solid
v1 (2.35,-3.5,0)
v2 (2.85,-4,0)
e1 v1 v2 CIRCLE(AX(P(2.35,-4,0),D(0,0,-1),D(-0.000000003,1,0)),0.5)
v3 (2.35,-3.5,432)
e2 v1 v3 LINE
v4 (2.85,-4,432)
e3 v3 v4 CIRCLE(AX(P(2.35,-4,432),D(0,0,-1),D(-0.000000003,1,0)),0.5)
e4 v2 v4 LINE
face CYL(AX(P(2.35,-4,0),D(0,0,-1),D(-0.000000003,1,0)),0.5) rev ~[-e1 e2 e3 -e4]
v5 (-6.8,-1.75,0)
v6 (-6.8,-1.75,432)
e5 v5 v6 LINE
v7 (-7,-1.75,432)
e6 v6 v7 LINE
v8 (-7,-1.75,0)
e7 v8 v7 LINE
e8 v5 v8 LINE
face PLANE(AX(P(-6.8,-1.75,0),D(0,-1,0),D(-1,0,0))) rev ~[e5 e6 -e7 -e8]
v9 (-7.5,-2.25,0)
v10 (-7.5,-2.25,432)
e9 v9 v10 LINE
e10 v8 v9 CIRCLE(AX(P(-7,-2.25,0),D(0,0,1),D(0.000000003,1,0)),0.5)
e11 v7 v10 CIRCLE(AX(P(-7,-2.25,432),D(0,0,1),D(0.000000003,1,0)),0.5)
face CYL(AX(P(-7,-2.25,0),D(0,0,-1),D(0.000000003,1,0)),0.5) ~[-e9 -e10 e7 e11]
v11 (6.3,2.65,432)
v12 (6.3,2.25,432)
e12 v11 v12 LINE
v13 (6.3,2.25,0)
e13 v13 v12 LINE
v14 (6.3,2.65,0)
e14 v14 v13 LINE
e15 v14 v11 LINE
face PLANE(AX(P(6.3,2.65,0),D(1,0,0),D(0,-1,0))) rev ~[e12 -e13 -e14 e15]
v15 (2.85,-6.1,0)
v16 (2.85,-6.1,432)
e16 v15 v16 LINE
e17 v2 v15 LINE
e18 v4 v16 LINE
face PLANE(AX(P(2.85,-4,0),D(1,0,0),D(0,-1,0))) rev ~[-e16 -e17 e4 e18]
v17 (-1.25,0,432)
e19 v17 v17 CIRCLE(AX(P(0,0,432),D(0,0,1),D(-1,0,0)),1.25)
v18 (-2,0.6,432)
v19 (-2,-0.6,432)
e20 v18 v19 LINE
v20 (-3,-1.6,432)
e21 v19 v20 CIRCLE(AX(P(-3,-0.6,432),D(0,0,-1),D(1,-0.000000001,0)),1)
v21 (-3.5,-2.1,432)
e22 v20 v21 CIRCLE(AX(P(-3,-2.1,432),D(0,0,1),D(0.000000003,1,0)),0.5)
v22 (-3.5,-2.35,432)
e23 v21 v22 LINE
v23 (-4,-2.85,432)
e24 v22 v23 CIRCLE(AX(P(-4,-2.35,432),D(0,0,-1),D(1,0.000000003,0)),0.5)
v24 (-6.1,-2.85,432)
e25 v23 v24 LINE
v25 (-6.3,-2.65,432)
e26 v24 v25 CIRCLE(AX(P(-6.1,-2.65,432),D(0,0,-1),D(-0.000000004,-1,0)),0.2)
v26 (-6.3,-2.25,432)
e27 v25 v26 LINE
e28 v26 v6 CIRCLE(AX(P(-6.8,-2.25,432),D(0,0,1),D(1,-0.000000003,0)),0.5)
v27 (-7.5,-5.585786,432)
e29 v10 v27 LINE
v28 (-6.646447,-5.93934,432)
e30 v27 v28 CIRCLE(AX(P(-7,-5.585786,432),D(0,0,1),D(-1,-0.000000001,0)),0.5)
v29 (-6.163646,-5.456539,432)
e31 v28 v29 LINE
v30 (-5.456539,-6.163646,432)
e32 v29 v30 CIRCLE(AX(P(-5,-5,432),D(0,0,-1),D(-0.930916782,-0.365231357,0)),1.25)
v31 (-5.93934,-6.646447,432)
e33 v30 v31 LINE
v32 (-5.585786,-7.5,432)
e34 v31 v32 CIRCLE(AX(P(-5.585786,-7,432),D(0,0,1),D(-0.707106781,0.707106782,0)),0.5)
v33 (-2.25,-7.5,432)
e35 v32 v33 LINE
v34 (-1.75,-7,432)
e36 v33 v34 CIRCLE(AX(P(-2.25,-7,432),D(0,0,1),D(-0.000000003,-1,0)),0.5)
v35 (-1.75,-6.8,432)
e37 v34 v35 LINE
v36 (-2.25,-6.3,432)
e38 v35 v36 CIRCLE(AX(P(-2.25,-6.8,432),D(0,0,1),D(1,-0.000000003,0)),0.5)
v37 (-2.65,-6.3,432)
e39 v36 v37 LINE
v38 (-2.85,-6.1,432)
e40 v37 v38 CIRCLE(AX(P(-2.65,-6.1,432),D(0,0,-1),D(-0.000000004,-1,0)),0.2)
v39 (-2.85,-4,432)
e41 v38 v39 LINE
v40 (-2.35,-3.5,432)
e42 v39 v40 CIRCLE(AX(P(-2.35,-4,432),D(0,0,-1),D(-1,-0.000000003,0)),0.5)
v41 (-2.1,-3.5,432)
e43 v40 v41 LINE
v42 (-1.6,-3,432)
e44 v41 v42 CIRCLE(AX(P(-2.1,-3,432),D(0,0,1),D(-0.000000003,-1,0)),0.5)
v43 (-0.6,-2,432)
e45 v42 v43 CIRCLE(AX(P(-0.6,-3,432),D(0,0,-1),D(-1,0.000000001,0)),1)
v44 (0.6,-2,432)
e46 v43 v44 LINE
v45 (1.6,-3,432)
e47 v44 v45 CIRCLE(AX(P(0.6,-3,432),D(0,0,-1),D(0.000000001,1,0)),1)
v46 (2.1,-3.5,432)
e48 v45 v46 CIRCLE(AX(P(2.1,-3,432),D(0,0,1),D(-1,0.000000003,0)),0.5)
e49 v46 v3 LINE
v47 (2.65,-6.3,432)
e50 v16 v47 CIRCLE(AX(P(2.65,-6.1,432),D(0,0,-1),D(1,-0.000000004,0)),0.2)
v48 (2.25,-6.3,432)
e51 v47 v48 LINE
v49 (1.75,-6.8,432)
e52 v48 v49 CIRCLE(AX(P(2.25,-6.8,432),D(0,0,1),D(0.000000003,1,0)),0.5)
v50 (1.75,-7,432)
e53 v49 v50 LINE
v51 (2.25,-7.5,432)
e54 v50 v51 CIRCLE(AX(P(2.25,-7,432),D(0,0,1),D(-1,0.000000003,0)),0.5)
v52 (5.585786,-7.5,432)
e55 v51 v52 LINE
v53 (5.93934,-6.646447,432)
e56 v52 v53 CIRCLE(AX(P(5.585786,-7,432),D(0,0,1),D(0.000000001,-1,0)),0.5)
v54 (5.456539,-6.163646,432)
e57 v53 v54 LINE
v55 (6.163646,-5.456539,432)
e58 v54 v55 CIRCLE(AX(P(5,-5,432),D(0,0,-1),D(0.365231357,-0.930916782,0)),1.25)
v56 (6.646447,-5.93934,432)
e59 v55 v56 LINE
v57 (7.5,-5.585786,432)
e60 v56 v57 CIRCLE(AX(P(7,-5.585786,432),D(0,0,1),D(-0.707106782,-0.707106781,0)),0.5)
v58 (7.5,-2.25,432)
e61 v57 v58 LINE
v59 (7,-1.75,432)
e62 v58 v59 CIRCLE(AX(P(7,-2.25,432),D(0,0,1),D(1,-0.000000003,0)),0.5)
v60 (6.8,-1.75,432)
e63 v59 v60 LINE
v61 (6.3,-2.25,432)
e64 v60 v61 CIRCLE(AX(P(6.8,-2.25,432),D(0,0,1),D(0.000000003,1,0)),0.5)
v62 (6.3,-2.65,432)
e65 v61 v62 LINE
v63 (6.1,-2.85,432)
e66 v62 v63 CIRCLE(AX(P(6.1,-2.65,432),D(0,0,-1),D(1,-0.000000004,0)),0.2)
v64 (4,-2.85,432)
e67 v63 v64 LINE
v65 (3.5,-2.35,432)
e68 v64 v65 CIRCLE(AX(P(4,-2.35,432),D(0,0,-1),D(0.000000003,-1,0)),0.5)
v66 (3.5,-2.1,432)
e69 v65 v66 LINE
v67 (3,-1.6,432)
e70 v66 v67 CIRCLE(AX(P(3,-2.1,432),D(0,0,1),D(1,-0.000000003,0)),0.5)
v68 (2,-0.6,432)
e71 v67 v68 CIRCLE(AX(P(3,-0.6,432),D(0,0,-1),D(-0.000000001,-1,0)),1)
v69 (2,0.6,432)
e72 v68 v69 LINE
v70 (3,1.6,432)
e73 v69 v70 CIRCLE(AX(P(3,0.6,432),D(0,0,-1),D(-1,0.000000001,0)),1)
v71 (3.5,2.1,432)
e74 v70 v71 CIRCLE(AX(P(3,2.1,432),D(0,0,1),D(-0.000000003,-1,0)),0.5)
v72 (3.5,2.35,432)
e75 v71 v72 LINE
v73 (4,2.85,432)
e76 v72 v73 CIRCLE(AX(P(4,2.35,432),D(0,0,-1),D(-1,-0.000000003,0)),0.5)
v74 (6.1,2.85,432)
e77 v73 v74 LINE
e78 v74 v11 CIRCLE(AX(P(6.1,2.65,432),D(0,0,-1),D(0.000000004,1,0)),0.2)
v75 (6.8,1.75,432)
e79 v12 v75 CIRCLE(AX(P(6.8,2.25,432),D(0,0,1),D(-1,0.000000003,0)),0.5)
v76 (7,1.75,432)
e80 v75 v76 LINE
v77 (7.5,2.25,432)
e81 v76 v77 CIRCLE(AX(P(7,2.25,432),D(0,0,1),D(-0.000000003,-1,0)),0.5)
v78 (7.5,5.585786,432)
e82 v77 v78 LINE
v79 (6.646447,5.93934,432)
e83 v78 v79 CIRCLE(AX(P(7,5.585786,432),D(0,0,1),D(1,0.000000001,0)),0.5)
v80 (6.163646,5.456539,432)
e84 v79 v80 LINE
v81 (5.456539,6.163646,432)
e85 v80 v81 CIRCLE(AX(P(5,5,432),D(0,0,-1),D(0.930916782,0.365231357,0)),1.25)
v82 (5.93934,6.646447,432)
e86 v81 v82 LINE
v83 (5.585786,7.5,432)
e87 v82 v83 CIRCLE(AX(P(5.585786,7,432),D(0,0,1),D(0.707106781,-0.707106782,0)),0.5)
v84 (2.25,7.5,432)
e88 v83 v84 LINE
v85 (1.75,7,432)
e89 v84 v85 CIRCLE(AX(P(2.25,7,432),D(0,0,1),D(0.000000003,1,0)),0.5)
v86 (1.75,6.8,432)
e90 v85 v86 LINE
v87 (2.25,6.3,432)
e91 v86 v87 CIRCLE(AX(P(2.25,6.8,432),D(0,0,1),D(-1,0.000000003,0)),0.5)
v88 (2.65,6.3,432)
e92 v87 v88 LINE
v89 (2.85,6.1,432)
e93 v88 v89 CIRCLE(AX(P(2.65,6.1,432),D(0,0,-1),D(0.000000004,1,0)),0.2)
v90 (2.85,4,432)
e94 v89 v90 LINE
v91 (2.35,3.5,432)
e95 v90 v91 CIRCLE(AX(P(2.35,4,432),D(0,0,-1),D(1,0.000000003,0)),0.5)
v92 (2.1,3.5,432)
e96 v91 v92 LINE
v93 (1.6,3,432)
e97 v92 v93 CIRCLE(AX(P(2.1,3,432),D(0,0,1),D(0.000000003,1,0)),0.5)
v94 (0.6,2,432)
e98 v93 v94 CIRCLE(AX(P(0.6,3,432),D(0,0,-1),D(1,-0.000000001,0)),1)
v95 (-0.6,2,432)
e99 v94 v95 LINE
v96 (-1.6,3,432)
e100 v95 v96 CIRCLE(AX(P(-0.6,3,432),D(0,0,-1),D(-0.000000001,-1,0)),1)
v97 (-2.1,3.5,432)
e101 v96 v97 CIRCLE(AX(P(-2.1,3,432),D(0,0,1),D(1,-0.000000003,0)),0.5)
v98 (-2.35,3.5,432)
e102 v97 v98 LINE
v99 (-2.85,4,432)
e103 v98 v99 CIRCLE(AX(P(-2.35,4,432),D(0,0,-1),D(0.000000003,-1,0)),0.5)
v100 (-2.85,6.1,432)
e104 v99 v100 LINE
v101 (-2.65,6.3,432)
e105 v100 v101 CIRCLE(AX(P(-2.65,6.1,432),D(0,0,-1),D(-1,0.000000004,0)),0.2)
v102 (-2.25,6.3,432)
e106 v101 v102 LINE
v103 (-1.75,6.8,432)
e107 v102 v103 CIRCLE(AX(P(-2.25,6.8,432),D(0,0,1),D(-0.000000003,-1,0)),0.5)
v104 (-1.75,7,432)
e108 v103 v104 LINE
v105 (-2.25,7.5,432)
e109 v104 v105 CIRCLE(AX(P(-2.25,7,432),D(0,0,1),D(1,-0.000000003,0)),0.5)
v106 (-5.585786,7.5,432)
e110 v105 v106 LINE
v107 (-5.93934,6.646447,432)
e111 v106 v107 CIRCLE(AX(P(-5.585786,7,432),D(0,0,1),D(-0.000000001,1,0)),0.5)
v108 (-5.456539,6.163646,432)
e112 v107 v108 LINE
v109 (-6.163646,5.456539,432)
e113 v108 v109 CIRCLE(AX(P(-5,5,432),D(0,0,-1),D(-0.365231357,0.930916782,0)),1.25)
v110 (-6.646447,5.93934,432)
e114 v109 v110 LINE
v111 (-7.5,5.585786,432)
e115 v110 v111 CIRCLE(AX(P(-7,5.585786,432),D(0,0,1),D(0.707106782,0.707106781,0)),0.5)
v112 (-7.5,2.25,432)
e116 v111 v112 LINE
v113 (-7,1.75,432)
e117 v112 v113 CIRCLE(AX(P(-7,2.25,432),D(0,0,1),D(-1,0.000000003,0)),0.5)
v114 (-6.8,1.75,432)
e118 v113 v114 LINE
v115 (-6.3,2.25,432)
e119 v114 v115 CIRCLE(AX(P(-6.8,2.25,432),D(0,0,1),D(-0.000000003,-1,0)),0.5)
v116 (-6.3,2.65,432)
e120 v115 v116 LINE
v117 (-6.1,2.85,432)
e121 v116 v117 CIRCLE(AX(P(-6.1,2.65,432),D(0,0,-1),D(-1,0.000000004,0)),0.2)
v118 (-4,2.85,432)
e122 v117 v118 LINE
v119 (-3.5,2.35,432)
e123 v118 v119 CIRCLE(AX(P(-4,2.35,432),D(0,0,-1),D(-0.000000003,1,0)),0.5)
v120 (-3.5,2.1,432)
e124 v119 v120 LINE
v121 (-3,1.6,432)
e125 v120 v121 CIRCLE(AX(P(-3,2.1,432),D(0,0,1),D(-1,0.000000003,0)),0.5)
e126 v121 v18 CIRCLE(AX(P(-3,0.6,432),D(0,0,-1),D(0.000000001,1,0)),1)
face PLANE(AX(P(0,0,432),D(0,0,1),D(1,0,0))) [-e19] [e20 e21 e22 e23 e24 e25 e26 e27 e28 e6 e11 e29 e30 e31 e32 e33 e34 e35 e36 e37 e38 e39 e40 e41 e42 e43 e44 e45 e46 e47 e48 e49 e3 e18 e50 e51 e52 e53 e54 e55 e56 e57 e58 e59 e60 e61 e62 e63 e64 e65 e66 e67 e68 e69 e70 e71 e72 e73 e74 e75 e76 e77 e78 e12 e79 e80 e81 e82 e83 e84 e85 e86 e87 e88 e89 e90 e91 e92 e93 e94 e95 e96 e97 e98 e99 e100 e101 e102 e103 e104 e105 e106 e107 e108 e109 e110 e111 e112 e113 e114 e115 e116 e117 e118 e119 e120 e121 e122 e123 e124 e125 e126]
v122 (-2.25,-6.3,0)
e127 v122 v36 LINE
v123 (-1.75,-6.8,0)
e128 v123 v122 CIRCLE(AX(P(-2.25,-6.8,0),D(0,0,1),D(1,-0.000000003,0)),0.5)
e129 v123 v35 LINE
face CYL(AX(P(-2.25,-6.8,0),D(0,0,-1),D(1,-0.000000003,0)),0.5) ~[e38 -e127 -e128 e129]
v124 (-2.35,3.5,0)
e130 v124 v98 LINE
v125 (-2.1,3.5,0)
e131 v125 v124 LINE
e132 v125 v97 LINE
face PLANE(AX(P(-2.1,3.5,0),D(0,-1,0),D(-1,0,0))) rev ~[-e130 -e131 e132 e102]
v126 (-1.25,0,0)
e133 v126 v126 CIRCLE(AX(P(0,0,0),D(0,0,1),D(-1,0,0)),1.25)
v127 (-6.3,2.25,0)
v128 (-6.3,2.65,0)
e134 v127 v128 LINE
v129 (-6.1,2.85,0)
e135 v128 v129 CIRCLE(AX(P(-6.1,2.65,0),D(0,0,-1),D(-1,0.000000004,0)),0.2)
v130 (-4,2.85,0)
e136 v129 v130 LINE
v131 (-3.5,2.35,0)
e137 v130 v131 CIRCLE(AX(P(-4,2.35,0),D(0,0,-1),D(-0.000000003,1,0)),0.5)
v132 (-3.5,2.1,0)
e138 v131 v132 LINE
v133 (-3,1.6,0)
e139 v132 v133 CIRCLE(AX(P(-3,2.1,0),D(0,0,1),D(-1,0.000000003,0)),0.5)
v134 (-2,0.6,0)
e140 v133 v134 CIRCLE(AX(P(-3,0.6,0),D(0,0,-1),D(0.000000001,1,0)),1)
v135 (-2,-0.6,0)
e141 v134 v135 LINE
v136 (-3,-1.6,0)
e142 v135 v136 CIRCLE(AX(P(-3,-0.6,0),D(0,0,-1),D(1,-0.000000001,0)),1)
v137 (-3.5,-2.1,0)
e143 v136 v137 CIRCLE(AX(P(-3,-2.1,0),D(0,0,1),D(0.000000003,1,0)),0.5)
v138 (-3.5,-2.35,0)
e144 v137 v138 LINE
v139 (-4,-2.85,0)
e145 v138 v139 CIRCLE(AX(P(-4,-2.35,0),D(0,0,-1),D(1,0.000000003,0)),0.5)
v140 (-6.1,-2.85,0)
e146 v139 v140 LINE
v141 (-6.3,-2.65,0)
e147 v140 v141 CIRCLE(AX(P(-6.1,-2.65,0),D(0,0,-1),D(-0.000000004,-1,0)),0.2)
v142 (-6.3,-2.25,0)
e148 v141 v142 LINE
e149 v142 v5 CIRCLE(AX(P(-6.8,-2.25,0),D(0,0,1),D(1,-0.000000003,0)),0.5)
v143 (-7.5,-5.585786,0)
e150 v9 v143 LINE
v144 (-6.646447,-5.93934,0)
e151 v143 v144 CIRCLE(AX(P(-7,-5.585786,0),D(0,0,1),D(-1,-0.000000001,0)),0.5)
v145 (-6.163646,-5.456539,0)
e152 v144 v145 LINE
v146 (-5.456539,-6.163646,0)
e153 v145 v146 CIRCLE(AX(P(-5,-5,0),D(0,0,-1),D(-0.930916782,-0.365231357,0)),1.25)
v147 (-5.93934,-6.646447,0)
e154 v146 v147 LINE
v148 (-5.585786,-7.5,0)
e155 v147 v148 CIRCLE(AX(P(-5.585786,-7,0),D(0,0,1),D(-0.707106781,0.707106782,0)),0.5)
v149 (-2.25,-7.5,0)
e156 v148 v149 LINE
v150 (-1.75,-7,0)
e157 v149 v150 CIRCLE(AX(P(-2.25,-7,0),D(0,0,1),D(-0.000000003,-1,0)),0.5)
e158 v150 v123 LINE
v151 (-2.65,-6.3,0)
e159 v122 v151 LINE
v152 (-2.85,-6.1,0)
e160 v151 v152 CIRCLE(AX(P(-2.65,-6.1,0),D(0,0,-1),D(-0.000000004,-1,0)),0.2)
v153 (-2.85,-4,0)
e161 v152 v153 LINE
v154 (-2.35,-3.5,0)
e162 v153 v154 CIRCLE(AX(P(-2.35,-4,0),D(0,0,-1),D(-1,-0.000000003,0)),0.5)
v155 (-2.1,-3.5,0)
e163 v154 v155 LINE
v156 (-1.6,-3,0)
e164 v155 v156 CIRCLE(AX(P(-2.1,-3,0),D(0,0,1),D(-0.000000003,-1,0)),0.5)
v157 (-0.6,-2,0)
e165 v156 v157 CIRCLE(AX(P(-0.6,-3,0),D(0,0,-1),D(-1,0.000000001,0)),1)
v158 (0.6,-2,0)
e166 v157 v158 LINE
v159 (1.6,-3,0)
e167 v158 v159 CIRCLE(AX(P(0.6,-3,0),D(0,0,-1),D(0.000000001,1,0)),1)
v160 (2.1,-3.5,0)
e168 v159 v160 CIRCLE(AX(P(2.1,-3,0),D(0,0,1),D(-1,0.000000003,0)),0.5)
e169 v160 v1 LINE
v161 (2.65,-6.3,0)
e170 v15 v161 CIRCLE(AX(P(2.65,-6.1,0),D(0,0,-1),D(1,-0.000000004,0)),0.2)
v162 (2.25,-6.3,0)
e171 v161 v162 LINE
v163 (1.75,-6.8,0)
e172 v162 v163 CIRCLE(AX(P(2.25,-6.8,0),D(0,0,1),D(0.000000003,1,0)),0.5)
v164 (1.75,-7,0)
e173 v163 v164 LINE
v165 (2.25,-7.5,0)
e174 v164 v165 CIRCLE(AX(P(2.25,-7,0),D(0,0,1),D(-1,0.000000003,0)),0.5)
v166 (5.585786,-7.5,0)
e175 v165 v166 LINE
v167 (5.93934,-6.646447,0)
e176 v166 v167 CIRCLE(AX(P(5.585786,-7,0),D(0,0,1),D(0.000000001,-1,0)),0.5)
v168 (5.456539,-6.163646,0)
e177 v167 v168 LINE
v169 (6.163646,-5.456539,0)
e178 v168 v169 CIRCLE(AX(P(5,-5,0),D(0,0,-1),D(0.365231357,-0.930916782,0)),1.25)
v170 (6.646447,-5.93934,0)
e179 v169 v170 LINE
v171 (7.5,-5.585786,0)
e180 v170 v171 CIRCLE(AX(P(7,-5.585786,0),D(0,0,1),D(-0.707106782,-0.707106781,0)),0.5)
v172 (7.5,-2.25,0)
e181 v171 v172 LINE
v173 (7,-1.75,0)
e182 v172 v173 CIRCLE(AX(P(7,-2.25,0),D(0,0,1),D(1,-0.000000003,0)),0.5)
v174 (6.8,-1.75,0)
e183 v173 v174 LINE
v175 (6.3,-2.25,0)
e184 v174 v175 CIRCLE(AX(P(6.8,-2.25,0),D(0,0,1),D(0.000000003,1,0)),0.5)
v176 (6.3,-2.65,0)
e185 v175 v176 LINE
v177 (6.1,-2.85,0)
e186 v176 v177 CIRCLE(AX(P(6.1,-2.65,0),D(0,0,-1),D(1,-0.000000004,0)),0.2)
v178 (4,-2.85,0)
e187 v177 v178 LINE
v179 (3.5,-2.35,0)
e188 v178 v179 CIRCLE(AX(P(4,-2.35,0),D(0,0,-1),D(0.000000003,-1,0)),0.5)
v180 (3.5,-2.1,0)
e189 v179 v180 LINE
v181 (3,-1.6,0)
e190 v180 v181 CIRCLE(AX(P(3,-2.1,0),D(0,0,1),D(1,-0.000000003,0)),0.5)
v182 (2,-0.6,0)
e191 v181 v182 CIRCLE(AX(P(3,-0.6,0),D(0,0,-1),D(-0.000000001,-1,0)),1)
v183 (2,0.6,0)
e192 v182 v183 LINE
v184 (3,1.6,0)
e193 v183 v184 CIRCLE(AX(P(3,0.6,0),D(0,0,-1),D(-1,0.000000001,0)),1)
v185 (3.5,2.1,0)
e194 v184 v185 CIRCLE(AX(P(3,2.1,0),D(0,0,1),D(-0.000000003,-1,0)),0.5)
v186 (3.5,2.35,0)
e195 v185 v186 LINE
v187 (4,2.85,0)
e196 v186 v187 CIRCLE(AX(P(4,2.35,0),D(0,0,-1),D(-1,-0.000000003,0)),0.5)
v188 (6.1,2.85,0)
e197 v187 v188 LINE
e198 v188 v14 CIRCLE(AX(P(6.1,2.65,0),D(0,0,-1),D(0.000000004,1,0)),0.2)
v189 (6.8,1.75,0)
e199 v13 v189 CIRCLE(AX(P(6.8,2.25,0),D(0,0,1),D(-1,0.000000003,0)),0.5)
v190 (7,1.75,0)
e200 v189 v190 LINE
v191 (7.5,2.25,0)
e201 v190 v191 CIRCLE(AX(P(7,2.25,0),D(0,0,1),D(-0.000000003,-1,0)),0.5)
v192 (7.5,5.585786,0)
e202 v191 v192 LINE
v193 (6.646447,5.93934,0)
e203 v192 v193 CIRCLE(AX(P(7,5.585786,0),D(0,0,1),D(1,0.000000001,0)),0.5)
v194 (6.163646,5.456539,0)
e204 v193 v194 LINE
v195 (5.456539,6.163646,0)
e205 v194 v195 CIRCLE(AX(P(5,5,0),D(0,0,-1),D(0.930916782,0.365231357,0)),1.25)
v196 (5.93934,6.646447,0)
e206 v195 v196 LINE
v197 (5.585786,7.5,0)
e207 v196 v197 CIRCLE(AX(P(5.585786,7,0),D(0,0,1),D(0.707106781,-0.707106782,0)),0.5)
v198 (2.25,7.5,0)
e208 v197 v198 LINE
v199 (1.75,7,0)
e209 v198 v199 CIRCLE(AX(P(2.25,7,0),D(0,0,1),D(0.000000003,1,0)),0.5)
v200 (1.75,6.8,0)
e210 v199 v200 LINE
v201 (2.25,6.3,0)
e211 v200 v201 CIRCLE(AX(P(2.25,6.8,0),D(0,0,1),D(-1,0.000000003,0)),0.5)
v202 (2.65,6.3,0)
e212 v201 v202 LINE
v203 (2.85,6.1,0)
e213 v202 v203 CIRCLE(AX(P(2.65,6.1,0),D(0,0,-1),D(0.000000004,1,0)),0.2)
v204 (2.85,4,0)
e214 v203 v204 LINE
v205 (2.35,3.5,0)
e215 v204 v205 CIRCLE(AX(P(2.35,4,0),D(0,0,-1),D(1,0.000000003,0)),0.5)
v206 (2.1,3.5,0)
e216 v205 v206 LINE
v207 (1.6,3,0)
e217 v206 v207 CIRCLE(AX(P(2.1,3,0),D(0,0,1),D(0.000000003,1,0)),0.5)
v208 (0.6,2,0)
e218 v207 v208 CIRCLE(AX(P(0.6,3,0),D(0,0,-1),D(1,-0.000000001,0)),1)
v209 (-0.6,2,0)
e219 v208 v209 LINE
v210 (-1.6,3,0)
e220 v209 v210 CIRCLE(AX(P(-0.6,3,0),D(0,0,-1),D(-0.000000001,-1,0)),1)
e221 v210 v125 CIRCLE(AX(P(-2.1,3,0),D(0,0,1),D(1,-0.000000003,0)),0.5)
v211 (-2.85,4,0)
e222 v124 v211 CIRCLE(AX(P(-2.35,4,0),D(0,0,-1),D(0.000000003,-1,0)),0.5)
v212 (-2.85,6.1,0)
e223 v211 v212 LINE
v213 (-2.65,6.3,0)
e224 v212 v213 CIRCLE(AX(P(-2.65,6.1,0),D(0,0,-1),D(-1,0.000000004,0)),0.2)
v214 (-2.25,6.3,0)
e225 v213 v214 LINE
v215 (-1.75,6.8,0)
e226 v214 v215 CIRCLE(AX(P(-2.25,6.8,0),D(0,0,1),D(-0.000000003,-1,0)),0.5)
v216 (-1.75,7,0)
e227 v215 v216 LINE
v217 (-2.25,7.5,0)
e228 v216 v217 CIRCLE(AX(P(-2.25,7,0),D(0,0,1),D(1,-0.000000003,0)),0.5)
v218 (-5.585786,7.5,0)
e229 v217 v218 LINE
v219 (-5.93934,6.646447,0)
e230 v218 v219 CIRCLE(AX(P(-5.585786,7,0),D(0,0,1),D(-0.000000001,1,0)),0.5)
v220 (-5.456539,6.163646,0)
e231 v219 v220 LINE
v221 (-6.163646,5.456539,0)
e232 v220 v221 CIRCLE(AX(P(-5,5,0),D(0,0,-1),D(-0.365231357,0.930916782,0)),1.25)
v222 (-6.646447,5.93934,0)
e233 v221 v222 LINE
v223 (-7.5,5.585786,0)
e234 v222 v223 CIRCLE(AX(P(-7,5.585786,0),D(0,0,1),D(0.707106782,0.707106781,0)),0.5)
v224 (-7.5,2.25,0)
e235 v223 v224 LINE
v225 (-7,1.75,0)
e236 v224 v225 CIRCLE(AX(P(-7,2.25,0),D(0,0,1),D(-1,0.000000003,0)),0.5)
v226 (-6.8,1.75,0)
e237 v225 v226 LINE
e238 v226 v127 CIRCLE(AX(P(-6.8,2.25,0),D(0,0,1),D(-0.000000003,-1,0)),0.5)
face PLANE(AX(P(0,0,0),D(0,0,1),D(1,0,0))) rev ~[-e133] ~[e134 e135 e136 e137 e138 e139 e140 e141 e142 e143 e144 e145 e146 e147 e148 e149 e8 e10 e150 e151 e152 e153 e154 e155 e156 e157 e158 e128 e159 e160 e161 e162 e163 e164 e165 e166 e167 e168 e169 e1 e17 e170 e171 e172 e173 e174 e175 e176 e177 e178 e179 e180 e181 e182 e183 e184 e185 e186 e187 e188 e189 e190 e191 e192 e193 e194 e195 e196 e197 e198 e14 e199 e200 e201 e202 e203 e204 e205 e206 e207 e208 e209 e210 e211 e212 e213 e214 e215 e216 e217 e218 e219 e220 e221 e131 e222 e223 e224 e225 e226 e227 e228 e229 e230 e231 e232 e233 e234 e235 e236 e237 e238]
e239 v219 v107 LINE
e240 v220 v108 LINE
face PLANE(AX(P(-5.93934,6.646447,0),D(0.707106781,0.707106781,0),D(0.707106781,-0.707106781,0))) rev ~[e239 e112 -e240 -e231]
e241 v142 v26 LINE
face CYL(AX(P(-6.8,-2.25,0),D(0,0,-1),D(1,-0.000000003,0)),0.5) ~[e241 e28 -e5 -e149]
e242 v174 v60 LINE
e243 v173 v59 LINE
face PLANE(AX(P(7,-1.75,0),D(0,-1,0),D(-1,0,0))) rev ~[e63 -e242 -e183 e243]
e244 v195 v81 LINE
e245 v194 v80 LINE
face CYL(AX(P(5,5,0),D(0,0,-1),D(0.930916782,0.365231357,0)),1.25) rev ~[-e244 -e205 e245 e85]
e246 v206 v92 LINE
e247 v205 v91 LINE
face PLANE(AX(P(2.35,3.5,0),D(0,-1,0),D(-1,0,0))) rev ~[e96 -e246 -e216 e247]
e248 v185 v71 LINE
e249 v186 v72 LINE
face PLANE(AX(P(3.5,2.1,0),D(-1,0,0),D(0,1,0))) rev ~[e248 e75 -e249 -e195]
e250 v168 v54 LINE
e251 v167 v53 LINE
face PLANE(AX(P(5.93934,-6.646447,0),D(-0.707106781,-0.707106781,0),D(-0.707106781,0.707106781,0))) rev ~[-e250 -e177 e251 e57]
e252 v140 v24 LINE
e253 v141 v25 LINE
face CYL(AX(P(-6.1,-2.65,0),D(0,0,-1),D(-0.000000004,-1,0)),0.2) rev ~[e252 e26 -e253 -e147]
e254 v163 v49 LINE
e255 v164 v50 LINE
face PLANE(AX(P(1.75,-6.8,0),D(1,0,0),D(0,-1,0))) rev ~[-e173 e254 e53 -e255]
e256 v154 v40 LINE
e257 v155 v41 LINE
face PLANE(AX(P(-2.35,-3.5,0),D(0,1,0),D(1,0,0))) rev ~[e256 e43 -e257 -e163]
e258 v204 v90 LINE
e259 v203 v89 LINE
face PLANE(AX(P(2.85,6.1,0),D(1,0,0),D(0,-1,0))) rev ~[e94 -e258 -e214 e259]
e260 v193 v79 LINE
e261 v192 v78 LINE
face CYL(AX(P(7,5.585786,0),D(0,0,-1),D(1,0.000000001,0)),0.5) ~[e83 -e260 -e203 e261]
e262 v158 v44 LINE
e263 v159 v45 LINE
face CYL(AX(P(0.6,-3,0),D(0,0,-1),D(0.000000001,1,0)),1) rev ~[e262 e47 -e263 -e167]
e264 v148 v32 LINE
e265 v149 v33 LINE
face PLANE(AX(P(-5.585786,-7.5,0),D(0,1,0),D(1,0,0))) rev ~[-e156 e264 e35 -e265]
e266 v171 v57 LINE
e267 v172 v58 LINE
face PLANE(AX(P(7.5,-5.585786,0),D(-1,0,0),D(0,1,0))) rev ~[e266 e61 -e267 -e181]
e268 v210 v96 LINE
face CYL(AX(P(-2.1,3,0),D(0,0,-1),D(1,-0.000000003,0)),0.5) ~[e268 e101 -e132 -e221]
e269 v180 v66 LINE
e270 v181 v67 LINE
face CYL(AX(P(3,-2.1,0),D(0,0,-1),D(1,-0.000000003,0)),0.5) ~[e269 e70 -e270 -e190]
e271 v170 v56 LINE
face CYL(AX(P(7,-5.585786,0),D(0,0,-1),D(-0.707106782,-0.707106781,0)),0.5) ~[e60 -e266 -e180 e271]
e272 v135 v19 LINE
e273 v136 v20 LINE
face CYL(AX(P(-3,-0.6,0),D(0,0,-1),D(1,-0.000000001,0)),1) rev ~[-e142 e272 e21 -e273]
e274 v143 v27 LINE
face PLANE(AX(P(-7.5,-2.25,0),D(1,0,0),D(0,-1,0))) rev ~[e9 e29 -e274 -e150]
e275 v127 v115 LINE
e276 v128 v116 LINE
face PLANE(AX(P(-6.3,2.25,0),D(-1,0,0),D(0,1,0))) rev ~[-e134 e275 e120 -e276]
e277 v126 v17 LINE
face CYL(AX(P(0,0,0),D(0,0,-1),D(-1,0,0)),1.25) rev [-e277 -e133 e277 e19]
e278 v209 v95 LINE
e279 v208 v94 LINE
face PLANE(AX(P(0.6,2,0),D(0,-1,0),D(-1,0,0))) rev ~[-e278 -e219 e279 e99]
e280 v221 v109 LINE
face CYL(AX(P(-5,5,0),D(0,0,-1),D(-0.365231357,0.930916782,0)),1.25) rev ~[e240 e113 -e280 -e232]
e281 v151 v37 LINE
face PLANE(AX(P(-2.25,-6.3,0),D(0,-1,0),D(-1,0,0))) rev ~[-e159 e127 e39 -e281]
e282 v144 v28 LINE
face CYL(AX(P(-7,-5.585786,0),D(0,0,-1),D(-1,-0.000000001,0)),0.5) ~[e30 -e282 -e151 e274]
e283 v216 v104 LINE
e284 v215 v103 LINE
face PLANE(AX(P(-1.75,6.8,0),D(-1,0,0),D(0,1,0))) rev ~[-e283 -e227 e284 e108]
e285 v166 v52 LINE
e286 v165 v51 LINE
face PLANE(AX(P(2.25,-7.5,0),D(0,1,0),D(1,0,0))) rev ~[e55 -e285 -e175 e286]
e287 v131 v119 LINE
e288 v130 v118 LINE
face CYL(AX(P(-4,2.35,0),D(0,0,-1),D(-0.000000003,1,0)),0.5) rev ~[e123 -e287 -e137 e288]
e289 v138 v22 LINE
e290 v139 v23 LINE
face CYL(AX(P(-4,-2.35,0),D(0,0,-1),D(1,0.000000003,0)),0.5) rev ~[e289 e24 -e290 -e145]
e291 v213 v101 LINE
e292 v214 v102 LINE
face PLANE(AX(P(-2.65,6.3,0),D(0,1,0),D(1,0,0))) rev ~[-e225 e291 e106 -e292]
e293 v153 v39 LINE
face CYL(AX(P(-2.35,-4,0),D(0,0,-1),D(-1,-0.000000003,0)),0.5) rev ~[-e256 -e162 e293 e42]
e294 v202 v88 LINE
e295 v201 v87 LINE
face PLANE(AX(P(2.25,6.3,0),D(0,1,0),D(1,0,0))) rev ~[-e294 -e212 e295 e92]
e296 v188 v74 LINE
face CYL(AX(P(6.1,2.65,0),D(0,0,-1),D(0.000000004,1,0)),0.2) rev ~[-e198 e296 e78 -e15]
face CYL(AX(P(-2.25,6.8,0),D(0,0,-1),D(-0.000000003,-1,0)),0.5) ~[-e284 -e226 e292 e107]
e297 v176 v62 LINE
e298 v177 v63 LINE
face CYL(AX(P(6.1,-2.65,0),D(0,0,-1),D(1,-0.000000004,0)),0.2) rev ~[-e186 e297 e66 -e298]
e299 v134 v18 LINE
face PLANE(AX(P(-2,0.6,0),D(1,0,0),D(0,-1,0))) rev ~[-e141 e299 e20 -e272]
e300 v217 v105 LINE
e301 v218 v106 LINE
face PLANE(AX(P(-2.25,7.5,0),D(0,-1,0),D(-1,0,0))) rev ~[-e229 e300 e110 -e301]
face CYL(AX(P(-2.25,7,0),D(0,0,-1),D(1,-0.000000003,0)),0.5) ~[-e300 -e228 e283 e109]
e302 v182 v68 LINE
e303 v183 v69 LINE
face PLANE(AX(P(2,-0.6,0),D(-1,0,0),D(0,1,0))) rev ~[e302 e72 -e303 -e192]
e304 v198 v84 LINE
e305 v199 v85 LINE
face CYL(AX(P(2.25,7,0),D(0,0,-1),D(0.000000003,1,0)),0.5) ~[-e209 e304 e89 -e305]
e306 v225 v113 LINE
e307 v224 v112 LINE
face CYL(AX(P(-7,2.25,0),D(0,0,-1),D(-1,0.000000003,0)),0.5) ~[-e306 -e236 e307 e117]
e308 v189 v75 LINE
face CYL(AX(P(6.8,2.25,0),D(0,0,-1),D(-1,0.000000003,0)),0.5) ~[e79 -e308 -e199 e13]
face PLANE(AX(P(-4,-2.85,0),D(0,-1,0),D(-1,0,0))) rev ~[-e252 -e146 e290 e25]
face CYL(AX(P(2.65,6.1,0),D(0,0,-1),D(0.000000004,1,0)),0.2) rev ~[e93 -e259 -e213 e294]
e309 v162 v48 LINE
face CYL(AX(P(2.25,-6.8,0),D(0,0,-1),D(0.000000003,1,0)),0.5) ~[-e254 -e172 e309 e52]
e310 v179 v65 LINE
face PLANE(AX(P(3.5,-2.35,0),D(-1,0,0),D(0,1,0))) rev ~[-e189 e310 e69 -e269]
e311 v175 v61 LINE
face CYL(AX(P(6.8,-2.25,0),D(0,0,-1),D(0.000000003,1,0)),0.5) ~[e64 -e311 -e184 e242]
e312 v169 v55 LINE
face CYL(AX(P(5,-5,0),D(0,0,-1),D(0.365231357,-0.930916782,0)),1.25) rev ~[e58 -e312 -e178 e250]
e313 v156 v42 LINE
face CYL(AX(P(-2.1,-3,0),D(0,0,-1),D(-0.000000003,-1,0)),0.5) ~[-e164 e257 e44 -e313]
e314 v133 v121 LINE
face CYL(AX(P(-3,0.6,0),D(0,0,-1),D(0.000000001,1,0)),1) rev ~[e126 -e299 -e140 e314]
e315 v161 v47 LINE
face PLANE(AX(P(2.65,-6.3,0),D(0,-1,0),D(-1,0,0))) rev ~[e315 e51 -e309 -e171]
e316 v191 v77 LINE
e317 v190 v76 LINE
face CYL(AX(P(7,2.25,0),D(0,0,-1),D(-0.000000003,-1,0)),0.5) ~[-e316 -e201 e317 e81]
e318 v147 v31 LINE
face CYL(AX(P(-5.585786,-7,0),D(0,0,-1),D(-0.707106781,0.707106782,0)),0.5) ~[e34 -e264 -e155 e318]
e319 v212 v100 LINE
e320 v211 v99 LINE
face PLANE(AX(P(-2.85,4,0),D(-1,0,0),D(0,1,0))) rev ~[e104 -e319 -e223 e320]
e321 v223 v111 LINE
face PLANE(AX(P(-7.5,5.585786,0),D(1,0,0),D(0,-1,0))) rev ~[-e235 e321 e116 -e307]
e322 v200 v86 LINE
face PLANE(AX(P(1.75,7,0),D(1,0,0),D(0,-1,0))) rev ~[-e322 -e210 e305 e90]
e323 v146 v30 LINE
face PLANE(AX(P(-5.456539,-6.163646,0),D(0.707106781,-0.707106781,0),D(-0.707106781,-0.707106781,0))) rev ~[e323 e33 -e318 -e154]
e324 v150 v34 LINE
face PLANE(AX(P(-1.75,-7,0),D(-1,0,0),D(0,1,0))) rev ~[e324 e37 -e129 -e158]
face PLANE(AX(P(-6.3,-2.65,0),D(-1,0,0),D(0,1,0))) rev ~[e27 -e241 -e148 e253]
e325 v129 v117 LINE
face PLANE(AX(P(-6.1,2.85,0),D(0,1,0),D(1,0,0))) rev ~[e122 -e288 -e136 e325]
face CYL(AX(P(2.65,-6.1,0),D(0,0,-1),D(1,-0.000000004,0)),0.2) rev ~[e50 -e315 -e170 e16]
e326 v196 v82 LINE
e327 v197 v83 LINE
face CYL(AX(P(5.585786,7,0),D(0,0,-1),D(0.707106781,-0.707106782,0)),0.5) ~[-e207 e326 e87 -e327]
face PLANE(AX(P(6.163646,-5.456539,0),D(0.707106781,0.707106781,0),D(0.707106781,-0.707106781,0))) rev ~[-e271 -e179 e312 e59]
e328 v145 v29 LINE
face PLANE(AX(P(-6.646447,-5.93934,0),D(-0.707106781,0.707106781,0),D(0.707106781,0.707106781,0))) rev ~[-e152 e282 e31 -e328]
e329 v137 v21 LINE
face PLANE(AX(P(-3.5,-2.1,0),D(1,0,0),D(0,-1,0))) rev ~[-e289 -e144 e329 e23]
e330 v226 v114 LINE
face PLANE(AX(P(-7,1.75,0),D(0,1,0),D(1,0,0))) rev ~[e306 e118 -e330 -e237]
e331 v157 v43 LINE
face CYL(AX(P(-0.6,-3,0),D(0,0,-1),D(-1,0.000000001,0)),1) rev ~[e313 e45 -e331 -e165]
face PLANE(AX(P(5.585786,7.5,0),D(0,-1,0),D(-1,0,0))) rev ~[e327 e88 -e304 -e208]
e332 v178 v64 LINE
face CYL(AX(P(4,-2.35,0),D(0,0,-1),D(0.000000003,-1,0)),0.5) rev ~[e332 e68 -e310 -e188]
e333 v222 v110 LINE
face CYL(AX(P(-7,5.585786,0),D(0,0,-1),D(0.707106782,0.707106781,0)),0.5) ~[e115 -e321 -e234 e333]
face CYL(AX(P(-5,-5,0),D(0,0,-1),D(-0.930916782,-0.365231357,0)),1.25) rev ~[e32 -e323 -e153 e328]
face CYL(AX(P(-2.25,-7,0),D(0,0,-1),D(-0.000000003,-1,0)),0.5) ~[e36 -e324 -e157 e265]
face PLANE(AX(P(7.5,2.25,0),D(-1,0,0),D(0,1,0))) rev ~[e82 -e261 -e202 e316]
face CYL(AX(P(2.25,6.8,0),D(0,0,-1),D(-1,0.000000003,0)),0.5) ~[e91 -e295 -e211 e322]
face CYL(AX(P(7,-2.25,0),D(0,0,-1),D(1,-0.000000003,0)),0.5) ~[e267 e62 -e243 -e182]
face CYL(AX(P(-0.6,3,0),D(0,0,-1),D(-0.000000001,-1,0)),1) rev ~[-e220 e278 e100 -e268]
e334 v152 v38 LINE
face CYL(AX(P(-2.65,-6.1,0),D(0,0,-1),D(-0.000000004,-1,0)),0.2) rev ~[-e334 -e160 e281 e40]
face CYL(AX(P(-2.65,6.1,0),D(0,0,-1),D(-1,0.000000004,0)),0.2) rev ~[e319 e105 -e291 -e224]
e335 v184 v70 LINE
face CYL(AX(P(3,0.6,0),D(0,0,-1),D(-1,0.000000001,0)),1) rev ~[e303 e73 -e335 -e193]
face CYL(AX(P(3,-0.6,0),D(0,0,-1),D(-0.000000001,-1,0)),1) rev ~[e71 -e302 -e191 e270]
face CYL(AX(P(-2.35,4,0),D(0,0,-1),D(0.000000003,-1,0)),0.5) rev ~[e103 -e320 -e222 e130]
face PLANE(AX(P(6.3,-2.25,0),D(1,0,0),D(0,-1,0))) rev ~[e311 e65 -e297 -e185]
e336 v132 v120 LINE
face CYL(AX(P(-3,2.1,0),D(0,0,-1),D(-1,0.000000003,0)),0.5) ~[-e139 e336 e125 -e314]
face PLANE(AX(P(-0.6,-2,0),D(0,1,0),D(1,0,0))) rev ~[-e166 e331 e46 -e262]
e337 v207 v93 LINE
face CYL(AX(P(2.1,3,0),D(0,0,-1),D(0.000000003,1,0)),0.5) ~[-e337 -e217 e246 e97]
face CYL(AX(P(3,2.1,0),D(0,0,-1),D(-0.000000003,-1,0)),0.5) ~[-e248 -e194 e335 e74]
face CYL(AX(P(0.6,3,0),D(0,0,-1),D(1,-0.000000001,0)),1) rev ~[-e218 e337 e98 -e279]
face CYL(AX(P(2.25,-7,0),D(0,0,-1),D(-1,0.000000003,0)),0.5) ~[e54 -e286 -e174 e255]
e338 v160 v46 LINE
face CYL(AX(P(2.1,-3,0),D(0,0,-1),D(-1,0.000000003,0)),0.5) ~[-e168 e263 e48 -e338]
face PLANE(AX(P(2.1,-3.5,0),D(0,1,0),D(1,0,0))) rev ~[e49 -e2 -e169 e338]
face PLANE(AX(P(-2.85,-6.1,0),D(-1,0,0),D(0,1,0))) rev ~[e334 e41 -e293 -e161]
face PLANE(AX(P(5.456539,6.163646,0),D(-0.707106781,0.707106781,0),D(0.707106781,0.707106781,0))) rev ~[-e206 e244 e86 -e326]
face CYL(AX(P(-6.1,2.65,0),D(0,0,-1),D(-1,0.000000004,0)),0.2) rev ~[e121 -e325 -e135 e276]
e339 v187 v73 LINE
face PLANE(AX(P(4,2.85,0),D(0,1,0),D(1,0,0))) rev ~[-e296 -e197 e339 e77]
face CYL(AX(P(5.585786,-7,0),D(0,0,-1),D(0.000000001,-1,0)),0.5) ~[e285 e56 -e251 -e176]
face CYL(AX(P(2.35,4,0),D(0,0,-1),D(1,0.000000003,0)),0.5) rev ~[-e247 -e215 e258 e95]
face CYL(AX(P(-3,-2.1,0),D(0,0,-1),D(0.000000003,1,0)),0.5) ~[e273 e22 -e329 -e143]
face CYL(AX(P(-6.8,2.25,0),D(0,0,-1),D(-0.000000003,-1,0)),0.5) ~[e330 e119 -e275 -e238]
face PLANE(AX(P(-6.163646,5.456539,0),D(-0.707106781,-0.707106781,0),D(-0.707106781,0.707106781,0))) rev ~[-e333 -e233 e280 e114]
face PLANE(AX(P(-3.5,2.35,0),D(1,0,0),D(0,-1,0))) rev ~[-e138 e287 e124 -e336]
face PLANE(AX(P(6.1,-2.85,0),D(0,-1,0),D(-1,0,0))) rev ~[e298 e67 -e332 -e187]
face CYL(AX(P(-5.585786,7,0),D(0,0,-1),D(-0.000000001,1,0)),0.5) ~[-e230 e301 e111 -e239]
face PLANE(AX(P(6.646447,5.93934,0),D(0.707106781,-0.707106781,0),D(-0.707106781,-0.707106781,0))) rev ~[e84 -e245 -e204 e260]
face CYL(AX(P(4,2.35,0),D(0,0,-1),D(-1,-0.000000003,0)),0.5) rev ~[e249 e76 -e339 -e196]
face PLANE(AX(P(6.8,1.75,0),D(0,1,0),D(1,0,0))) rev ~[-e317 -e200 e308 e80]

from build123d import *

# Parameters (mm, degrees)
SKETCH1_R           = 1.25
BOSS_EXTRUDE1_DEPTH = 432


with BuildPart() as part:
    # Sketch1 → Boss-Extrude1 (new body)
    with BuildSketch(Plane.XY):
        with BuildLine():
            Line((6.646446609, 5.939339828), (6.163645978, 5.456539197))
            ThreePointArc((6.163645978, 5.456539197), (4.116116524, 4.116116524), (5.456539197, 6.163645978))
            Line((5.456539197, 6.163645978), (5.939339828, 6.646446609))
            ThreePointArc((5.939339828, 6.646446609), (6.047726204, 7.191341716), (5.585786438, 7.5))
            Line((5.585786438, 7.5), (2.25, 7.5))
            ThreePointArc((2.25, 7.5), (1.896446609, 7.353553391), (1.75, 7))
            Line((1.75, 7), (1.75, 6.8))
            ThreePointArc((1.75, 6.8), (1.896446609, 6.446446609), (2.25, 6.3))
            Line((2.25, 6.3), (2.65, 6.3))
            ThreePointArc((2.65, 6.3), (2.791421356, 6.241421356), (2.85, 6.1))
            Line((2.85, 6.1), (2.85, 4))
            ThreePointArc((2.85, 4), (2.703553391, 3.646446609), (2.35, 3.5))
            Line((2.35, 3.5), (2.1, 3.5))
            ThreePointArc((2.1, 3.5), (1.746446609, 3.353553391), (1.6, 3))
            ThreePointArc((1.6, 3), (1.307106781, 2.292893219), (0.6, 2))
            Line((0.6, 2), (-0.6, 2))
            ThreePointArc((-0.6, 2), (-1.307106781, 2.292893219), (-1.6, 3))
            ThreePointArc((-1.6, 3), (-1.746446609, 3.353553391), (-2.1, 3.5))
            Line((-2.1, 3.5), (-2.35, 3.5))
            ThreePointArc((-2.35, 3.5), (-2.703553391, 3.646446609), (-2.85, 4))
            Line((-2.85, 4), (-2.85, 6.1))
            ThreePointArc((-2.85, 6.1), (-2.791421356, 6.241421356), (-2.65, 6.3))
            Line((-2.65, 6.3), (-2.25, 6.3))
            ThreePointArc((-2.25, 6.3), (-1.896446609, 6.446446609), (-1.75, 6.8))
            Line((-1.75, 6.8), (-1.75, 7))
            ThreePointArc((-1.75, 7), (-1.896446609, 7.353553391), (-2.25, 7.5))
            Line((-2.25, 7.5), (-5.585786438, 7.5))
            ThreePointArc((-5.585786438, 7.5), (-6.047726204, 7.191341716), (-5.939339828, 6.646446609))
            Line((-5.939339828, 6.646446609), (-5.456539197, 6.163645978))
            ThreePointArc((-5.456539197, 6.163645978), (-4.116116524, 4.116116524), (-6.163645978, 5.456539197))
            Line((-6.163645978, 5.456539197), (-6.646446609, 5.939339828))
            ThreePointArc((-6.646446609, 5.939339828), (-7.191341716, 6.047726204), (-7.5, 5.585786438))
            Line((-7.5, 5.585786438), (-7.5, 2.25))
            ThreePointArc((-7.5, 2.25), (-7.353553391, 1.896446609), (-7, 1.75))
            Line((-7, 1.75), (-6.8, 1.75))
            ThreePointArc((-6.8, 1.75), (-6.446446609, 1.896446609), (-6.3, 2.25))
            Line((-6.3, 2.25), (-6.3, 2.65))
            ThreePointArc((-6.3, 2.65), (-6.241421356, 2.791421356), (-6.1, 2.85))
            Line((-6.1, 2.85), (-4, 2.85))
            ThreePointArc((-4, 2.85), (-3.646446609, 2.703553391), (-3.5, 2.35))
            Line((-3.5, 2.35), (-3.5, 2.1))
            ThreePointArc((-3.5, 2.1), (-3.353553391, 1.746446609), (-3, 1.6))
            ThreePointArc((-3, 1.6), (-2.292893219, 1.307106781), (-2, 0.6))
            Line((-2, 0.6), (-2, -0.6))
            ThreePointArc((-2, -0.6), (-2.292893219, -1.307106781), (-3, -1.6))
            ThreePointArc((-3, -1.6), (-3.353553391, -1.746446609), (-3.5, -2.1))
            Line((-3.5, -2.1), (-3.5, -2.35))
            ThreePointArc((-3.5, -2.35), (-3.646446609, -2.703553391), (-4, -2.85))
            Line((-4, -2.85), (-6.1, -2.85))
            ThreePointArc((-6.1, -2.85), (-6.241421356, -2.791421356), (-6.3, -2.65))
            Line((-6.3, -2.65), (-6.3, -2.25))
            ThreePointArc((-6.3, -2.25), (-6.446446609, -1.896446609), (-6.8, -1.75))
            Line((-6.8, -1.75), (-7, -1.75))
            ThreePointArc((-7, -1.75), (-7.353553391, -1.896446609), (-7.5, -2.25))
            Line((-7.5, -2.25), (-7.5, -5.585786438))
            ThreePointArc((-7.5, -5.585786438), (-7.191341716, -6.047726204), (-6.646446609, -5.939339828))
            Line((-6.646446609, -5.939339828), (-6.163645978, -5.456539197))
            ThreePointArc((-6.163645978, -5.456539197), (-4.116116524, -4.116116524), (-5.456539197, -6.163645978))
            Line((-5.456539197, -6.163645978), (-5.939339828, -6.646446609))
            ThreePointArc((-5.939339828, -6.646446609), (-6.047726204, -7.191341716), (-5.585786438, -7.5))
            Line((-5.585786438, -7.5), (-2.25, -7.5))
            ThreePointArc((-2.25, -7.5), (-1.896446609, -7.353553391), (-1.75, -7))
            Line((-1.75, -7), (-1.75, -6.8))
            ThreePointArc((-1.75, -6.8), (-1.896446609, -6.446446609), (-2.25, -6.3))
            Line((-2.25, -6.3), (-2.65, -6.3))
            ThreePointArc((-2.65, -6.3), (-2.791421356, -6.241421356), (-2.85, -6.1))
            Line((-2.85, -6.1), (-2.85, -4))
            ThreePointArc((-2.85, -4), (-2.703553391, -3.646446609), (-2.35, -3.5))
            Line((-2.35, -3.5), (-2.1, -3.5))
            ThreePointArc((-2.1, -3.5), (-1.746446609, -3.353553391), (-1.6, -3))
            ThreePointArc((-1.6, -3), (-1.307106781, -2.292893219), (-0.6, -2))
            Line((-0.6, -2), (0.6, -2))
            ThreePointArc((0.6, -2), (1.307106781, -2.292893219), (1.6, -3))
            ThreePointArc((1.6, -3), (1.746446609, -3.353553391), (2.1, -3.5))
            Line((2.1, -3.5), (2.35, -3.5))
            ThreePointArc((2.35, -3.5), (2.703553391, -3.646446609), (2.85, -4))
            Line((2.85, -4), (2.85, -6.1))
            ThreePointArc((2.85, -6.1), (2.791421356, -6.241421356), (2.65, -6.3))
            Line((2.65, -6.3), (2.25, -6.3))
            ThreePointArc((2.25, -6.3), (1.896446609, -6.446446609), (1.75, -6.8))
            Line((1.75, -6.8), (1.75, -7))
            ThreePointArc((1.75, -7), (1.896446609, -7.353553391), (2.25, -7.5))
            Line((2.25, -7.5), (5.585786438, -7.5))
            ThreePointArc((5.585786438, -7.5), (6.047726204, -7.191341716), (5.939339828, -6.646446609))
            Line((5.939339828, -6.646446609), (5.456539197, -6.163645978))
            ThreePointArc((5.456539197, -6.163645978), (4.116116524, -4.116116524), (6.163645978, -5.456539197))
            Line((6.163645978, -5.456539197), (6.646446609, -5.939339828))
            ThreePointArc((6.646446609, -5.939339828), (7.191341716, -6.047726204), (7.5, -5.585786438))
            Line((7.5, -5.585786438), (7.5, -2.25))
            ThreePointArc((7.5, -2.25), (7.353553391, -1.896446609), (7, -1.75))
            Line((7, -1.75), (6.8, -1.75))
            ThreePointArc((6.8, -1.75), (6.446446609, -1.896446609), (6.3, -2.25))
            Line((6.3, -2.25), (6.3, -2.65))
            ThreePointArc((6.3, -2.65), (6.241421356, -2.791421356), (6.1, -2.85))
            Line((6.1, -2.85), (4, -2.85))
            ThreePointArc((4, -2.85), (3.646446609, -2.703553391), (3.5, -2.35))
            Line((3.5, -2.35), (3.5, -2.1))
            ThreePointArc((3.5, -2.1), (3.353553391, -1.746446609), (3, -1.6))
            ThreePointArc((3, -1.6), (2.292893219, -1.307106781), (2, -0.6))
            Line((2, -0.6), (2, 0.6))
            ThreePointArc((2, 0.6), (2.292893219, 1.307106781), (3, 1.6))
            ThreePointArc((3, 1.6), (3.353553391, 1.746446609), (3.5, 2.1))
            Line((3.5, 2.1), (3.5, 2.35))
            ThreePointArc((3.5, 2.35), (3.646446609, 2.703553391), (4, 2.85))
            Line((4, 2.85), (6.1, 2.85))
            ThreePointArc((6.1, 2.85), (6.241421356, 2.791421356), (6.3, 2.65))
            Line((6.3, 2.65), (6.3, 2.25))
            ThreePointArc((6.3, 2.25), (6.446446609, 1.896446609), (6.8, 1.75))
            Line((6.8, 1.75), (7, 1.75))
            ThreePointArc((7, 1.75), (7.353553391, 1.896446609), (7.5, 2.25))
            Line((7.5, 2.25), (7.5, 5.585786438))
            ThreePointArc((7.5, 5.585786438), (7.191341716, 6.047726204), (6.646446609, 5.939339828))
        make_face()
        with Locations(Location((0, 0, 0), (0, 0, 180))):
            Circle(SKETCH1_R, mode=Mode.SUBTRACT)
    extrude(amount=BOSS_EXTRUDE1_DEPTH)


solid = part.part
